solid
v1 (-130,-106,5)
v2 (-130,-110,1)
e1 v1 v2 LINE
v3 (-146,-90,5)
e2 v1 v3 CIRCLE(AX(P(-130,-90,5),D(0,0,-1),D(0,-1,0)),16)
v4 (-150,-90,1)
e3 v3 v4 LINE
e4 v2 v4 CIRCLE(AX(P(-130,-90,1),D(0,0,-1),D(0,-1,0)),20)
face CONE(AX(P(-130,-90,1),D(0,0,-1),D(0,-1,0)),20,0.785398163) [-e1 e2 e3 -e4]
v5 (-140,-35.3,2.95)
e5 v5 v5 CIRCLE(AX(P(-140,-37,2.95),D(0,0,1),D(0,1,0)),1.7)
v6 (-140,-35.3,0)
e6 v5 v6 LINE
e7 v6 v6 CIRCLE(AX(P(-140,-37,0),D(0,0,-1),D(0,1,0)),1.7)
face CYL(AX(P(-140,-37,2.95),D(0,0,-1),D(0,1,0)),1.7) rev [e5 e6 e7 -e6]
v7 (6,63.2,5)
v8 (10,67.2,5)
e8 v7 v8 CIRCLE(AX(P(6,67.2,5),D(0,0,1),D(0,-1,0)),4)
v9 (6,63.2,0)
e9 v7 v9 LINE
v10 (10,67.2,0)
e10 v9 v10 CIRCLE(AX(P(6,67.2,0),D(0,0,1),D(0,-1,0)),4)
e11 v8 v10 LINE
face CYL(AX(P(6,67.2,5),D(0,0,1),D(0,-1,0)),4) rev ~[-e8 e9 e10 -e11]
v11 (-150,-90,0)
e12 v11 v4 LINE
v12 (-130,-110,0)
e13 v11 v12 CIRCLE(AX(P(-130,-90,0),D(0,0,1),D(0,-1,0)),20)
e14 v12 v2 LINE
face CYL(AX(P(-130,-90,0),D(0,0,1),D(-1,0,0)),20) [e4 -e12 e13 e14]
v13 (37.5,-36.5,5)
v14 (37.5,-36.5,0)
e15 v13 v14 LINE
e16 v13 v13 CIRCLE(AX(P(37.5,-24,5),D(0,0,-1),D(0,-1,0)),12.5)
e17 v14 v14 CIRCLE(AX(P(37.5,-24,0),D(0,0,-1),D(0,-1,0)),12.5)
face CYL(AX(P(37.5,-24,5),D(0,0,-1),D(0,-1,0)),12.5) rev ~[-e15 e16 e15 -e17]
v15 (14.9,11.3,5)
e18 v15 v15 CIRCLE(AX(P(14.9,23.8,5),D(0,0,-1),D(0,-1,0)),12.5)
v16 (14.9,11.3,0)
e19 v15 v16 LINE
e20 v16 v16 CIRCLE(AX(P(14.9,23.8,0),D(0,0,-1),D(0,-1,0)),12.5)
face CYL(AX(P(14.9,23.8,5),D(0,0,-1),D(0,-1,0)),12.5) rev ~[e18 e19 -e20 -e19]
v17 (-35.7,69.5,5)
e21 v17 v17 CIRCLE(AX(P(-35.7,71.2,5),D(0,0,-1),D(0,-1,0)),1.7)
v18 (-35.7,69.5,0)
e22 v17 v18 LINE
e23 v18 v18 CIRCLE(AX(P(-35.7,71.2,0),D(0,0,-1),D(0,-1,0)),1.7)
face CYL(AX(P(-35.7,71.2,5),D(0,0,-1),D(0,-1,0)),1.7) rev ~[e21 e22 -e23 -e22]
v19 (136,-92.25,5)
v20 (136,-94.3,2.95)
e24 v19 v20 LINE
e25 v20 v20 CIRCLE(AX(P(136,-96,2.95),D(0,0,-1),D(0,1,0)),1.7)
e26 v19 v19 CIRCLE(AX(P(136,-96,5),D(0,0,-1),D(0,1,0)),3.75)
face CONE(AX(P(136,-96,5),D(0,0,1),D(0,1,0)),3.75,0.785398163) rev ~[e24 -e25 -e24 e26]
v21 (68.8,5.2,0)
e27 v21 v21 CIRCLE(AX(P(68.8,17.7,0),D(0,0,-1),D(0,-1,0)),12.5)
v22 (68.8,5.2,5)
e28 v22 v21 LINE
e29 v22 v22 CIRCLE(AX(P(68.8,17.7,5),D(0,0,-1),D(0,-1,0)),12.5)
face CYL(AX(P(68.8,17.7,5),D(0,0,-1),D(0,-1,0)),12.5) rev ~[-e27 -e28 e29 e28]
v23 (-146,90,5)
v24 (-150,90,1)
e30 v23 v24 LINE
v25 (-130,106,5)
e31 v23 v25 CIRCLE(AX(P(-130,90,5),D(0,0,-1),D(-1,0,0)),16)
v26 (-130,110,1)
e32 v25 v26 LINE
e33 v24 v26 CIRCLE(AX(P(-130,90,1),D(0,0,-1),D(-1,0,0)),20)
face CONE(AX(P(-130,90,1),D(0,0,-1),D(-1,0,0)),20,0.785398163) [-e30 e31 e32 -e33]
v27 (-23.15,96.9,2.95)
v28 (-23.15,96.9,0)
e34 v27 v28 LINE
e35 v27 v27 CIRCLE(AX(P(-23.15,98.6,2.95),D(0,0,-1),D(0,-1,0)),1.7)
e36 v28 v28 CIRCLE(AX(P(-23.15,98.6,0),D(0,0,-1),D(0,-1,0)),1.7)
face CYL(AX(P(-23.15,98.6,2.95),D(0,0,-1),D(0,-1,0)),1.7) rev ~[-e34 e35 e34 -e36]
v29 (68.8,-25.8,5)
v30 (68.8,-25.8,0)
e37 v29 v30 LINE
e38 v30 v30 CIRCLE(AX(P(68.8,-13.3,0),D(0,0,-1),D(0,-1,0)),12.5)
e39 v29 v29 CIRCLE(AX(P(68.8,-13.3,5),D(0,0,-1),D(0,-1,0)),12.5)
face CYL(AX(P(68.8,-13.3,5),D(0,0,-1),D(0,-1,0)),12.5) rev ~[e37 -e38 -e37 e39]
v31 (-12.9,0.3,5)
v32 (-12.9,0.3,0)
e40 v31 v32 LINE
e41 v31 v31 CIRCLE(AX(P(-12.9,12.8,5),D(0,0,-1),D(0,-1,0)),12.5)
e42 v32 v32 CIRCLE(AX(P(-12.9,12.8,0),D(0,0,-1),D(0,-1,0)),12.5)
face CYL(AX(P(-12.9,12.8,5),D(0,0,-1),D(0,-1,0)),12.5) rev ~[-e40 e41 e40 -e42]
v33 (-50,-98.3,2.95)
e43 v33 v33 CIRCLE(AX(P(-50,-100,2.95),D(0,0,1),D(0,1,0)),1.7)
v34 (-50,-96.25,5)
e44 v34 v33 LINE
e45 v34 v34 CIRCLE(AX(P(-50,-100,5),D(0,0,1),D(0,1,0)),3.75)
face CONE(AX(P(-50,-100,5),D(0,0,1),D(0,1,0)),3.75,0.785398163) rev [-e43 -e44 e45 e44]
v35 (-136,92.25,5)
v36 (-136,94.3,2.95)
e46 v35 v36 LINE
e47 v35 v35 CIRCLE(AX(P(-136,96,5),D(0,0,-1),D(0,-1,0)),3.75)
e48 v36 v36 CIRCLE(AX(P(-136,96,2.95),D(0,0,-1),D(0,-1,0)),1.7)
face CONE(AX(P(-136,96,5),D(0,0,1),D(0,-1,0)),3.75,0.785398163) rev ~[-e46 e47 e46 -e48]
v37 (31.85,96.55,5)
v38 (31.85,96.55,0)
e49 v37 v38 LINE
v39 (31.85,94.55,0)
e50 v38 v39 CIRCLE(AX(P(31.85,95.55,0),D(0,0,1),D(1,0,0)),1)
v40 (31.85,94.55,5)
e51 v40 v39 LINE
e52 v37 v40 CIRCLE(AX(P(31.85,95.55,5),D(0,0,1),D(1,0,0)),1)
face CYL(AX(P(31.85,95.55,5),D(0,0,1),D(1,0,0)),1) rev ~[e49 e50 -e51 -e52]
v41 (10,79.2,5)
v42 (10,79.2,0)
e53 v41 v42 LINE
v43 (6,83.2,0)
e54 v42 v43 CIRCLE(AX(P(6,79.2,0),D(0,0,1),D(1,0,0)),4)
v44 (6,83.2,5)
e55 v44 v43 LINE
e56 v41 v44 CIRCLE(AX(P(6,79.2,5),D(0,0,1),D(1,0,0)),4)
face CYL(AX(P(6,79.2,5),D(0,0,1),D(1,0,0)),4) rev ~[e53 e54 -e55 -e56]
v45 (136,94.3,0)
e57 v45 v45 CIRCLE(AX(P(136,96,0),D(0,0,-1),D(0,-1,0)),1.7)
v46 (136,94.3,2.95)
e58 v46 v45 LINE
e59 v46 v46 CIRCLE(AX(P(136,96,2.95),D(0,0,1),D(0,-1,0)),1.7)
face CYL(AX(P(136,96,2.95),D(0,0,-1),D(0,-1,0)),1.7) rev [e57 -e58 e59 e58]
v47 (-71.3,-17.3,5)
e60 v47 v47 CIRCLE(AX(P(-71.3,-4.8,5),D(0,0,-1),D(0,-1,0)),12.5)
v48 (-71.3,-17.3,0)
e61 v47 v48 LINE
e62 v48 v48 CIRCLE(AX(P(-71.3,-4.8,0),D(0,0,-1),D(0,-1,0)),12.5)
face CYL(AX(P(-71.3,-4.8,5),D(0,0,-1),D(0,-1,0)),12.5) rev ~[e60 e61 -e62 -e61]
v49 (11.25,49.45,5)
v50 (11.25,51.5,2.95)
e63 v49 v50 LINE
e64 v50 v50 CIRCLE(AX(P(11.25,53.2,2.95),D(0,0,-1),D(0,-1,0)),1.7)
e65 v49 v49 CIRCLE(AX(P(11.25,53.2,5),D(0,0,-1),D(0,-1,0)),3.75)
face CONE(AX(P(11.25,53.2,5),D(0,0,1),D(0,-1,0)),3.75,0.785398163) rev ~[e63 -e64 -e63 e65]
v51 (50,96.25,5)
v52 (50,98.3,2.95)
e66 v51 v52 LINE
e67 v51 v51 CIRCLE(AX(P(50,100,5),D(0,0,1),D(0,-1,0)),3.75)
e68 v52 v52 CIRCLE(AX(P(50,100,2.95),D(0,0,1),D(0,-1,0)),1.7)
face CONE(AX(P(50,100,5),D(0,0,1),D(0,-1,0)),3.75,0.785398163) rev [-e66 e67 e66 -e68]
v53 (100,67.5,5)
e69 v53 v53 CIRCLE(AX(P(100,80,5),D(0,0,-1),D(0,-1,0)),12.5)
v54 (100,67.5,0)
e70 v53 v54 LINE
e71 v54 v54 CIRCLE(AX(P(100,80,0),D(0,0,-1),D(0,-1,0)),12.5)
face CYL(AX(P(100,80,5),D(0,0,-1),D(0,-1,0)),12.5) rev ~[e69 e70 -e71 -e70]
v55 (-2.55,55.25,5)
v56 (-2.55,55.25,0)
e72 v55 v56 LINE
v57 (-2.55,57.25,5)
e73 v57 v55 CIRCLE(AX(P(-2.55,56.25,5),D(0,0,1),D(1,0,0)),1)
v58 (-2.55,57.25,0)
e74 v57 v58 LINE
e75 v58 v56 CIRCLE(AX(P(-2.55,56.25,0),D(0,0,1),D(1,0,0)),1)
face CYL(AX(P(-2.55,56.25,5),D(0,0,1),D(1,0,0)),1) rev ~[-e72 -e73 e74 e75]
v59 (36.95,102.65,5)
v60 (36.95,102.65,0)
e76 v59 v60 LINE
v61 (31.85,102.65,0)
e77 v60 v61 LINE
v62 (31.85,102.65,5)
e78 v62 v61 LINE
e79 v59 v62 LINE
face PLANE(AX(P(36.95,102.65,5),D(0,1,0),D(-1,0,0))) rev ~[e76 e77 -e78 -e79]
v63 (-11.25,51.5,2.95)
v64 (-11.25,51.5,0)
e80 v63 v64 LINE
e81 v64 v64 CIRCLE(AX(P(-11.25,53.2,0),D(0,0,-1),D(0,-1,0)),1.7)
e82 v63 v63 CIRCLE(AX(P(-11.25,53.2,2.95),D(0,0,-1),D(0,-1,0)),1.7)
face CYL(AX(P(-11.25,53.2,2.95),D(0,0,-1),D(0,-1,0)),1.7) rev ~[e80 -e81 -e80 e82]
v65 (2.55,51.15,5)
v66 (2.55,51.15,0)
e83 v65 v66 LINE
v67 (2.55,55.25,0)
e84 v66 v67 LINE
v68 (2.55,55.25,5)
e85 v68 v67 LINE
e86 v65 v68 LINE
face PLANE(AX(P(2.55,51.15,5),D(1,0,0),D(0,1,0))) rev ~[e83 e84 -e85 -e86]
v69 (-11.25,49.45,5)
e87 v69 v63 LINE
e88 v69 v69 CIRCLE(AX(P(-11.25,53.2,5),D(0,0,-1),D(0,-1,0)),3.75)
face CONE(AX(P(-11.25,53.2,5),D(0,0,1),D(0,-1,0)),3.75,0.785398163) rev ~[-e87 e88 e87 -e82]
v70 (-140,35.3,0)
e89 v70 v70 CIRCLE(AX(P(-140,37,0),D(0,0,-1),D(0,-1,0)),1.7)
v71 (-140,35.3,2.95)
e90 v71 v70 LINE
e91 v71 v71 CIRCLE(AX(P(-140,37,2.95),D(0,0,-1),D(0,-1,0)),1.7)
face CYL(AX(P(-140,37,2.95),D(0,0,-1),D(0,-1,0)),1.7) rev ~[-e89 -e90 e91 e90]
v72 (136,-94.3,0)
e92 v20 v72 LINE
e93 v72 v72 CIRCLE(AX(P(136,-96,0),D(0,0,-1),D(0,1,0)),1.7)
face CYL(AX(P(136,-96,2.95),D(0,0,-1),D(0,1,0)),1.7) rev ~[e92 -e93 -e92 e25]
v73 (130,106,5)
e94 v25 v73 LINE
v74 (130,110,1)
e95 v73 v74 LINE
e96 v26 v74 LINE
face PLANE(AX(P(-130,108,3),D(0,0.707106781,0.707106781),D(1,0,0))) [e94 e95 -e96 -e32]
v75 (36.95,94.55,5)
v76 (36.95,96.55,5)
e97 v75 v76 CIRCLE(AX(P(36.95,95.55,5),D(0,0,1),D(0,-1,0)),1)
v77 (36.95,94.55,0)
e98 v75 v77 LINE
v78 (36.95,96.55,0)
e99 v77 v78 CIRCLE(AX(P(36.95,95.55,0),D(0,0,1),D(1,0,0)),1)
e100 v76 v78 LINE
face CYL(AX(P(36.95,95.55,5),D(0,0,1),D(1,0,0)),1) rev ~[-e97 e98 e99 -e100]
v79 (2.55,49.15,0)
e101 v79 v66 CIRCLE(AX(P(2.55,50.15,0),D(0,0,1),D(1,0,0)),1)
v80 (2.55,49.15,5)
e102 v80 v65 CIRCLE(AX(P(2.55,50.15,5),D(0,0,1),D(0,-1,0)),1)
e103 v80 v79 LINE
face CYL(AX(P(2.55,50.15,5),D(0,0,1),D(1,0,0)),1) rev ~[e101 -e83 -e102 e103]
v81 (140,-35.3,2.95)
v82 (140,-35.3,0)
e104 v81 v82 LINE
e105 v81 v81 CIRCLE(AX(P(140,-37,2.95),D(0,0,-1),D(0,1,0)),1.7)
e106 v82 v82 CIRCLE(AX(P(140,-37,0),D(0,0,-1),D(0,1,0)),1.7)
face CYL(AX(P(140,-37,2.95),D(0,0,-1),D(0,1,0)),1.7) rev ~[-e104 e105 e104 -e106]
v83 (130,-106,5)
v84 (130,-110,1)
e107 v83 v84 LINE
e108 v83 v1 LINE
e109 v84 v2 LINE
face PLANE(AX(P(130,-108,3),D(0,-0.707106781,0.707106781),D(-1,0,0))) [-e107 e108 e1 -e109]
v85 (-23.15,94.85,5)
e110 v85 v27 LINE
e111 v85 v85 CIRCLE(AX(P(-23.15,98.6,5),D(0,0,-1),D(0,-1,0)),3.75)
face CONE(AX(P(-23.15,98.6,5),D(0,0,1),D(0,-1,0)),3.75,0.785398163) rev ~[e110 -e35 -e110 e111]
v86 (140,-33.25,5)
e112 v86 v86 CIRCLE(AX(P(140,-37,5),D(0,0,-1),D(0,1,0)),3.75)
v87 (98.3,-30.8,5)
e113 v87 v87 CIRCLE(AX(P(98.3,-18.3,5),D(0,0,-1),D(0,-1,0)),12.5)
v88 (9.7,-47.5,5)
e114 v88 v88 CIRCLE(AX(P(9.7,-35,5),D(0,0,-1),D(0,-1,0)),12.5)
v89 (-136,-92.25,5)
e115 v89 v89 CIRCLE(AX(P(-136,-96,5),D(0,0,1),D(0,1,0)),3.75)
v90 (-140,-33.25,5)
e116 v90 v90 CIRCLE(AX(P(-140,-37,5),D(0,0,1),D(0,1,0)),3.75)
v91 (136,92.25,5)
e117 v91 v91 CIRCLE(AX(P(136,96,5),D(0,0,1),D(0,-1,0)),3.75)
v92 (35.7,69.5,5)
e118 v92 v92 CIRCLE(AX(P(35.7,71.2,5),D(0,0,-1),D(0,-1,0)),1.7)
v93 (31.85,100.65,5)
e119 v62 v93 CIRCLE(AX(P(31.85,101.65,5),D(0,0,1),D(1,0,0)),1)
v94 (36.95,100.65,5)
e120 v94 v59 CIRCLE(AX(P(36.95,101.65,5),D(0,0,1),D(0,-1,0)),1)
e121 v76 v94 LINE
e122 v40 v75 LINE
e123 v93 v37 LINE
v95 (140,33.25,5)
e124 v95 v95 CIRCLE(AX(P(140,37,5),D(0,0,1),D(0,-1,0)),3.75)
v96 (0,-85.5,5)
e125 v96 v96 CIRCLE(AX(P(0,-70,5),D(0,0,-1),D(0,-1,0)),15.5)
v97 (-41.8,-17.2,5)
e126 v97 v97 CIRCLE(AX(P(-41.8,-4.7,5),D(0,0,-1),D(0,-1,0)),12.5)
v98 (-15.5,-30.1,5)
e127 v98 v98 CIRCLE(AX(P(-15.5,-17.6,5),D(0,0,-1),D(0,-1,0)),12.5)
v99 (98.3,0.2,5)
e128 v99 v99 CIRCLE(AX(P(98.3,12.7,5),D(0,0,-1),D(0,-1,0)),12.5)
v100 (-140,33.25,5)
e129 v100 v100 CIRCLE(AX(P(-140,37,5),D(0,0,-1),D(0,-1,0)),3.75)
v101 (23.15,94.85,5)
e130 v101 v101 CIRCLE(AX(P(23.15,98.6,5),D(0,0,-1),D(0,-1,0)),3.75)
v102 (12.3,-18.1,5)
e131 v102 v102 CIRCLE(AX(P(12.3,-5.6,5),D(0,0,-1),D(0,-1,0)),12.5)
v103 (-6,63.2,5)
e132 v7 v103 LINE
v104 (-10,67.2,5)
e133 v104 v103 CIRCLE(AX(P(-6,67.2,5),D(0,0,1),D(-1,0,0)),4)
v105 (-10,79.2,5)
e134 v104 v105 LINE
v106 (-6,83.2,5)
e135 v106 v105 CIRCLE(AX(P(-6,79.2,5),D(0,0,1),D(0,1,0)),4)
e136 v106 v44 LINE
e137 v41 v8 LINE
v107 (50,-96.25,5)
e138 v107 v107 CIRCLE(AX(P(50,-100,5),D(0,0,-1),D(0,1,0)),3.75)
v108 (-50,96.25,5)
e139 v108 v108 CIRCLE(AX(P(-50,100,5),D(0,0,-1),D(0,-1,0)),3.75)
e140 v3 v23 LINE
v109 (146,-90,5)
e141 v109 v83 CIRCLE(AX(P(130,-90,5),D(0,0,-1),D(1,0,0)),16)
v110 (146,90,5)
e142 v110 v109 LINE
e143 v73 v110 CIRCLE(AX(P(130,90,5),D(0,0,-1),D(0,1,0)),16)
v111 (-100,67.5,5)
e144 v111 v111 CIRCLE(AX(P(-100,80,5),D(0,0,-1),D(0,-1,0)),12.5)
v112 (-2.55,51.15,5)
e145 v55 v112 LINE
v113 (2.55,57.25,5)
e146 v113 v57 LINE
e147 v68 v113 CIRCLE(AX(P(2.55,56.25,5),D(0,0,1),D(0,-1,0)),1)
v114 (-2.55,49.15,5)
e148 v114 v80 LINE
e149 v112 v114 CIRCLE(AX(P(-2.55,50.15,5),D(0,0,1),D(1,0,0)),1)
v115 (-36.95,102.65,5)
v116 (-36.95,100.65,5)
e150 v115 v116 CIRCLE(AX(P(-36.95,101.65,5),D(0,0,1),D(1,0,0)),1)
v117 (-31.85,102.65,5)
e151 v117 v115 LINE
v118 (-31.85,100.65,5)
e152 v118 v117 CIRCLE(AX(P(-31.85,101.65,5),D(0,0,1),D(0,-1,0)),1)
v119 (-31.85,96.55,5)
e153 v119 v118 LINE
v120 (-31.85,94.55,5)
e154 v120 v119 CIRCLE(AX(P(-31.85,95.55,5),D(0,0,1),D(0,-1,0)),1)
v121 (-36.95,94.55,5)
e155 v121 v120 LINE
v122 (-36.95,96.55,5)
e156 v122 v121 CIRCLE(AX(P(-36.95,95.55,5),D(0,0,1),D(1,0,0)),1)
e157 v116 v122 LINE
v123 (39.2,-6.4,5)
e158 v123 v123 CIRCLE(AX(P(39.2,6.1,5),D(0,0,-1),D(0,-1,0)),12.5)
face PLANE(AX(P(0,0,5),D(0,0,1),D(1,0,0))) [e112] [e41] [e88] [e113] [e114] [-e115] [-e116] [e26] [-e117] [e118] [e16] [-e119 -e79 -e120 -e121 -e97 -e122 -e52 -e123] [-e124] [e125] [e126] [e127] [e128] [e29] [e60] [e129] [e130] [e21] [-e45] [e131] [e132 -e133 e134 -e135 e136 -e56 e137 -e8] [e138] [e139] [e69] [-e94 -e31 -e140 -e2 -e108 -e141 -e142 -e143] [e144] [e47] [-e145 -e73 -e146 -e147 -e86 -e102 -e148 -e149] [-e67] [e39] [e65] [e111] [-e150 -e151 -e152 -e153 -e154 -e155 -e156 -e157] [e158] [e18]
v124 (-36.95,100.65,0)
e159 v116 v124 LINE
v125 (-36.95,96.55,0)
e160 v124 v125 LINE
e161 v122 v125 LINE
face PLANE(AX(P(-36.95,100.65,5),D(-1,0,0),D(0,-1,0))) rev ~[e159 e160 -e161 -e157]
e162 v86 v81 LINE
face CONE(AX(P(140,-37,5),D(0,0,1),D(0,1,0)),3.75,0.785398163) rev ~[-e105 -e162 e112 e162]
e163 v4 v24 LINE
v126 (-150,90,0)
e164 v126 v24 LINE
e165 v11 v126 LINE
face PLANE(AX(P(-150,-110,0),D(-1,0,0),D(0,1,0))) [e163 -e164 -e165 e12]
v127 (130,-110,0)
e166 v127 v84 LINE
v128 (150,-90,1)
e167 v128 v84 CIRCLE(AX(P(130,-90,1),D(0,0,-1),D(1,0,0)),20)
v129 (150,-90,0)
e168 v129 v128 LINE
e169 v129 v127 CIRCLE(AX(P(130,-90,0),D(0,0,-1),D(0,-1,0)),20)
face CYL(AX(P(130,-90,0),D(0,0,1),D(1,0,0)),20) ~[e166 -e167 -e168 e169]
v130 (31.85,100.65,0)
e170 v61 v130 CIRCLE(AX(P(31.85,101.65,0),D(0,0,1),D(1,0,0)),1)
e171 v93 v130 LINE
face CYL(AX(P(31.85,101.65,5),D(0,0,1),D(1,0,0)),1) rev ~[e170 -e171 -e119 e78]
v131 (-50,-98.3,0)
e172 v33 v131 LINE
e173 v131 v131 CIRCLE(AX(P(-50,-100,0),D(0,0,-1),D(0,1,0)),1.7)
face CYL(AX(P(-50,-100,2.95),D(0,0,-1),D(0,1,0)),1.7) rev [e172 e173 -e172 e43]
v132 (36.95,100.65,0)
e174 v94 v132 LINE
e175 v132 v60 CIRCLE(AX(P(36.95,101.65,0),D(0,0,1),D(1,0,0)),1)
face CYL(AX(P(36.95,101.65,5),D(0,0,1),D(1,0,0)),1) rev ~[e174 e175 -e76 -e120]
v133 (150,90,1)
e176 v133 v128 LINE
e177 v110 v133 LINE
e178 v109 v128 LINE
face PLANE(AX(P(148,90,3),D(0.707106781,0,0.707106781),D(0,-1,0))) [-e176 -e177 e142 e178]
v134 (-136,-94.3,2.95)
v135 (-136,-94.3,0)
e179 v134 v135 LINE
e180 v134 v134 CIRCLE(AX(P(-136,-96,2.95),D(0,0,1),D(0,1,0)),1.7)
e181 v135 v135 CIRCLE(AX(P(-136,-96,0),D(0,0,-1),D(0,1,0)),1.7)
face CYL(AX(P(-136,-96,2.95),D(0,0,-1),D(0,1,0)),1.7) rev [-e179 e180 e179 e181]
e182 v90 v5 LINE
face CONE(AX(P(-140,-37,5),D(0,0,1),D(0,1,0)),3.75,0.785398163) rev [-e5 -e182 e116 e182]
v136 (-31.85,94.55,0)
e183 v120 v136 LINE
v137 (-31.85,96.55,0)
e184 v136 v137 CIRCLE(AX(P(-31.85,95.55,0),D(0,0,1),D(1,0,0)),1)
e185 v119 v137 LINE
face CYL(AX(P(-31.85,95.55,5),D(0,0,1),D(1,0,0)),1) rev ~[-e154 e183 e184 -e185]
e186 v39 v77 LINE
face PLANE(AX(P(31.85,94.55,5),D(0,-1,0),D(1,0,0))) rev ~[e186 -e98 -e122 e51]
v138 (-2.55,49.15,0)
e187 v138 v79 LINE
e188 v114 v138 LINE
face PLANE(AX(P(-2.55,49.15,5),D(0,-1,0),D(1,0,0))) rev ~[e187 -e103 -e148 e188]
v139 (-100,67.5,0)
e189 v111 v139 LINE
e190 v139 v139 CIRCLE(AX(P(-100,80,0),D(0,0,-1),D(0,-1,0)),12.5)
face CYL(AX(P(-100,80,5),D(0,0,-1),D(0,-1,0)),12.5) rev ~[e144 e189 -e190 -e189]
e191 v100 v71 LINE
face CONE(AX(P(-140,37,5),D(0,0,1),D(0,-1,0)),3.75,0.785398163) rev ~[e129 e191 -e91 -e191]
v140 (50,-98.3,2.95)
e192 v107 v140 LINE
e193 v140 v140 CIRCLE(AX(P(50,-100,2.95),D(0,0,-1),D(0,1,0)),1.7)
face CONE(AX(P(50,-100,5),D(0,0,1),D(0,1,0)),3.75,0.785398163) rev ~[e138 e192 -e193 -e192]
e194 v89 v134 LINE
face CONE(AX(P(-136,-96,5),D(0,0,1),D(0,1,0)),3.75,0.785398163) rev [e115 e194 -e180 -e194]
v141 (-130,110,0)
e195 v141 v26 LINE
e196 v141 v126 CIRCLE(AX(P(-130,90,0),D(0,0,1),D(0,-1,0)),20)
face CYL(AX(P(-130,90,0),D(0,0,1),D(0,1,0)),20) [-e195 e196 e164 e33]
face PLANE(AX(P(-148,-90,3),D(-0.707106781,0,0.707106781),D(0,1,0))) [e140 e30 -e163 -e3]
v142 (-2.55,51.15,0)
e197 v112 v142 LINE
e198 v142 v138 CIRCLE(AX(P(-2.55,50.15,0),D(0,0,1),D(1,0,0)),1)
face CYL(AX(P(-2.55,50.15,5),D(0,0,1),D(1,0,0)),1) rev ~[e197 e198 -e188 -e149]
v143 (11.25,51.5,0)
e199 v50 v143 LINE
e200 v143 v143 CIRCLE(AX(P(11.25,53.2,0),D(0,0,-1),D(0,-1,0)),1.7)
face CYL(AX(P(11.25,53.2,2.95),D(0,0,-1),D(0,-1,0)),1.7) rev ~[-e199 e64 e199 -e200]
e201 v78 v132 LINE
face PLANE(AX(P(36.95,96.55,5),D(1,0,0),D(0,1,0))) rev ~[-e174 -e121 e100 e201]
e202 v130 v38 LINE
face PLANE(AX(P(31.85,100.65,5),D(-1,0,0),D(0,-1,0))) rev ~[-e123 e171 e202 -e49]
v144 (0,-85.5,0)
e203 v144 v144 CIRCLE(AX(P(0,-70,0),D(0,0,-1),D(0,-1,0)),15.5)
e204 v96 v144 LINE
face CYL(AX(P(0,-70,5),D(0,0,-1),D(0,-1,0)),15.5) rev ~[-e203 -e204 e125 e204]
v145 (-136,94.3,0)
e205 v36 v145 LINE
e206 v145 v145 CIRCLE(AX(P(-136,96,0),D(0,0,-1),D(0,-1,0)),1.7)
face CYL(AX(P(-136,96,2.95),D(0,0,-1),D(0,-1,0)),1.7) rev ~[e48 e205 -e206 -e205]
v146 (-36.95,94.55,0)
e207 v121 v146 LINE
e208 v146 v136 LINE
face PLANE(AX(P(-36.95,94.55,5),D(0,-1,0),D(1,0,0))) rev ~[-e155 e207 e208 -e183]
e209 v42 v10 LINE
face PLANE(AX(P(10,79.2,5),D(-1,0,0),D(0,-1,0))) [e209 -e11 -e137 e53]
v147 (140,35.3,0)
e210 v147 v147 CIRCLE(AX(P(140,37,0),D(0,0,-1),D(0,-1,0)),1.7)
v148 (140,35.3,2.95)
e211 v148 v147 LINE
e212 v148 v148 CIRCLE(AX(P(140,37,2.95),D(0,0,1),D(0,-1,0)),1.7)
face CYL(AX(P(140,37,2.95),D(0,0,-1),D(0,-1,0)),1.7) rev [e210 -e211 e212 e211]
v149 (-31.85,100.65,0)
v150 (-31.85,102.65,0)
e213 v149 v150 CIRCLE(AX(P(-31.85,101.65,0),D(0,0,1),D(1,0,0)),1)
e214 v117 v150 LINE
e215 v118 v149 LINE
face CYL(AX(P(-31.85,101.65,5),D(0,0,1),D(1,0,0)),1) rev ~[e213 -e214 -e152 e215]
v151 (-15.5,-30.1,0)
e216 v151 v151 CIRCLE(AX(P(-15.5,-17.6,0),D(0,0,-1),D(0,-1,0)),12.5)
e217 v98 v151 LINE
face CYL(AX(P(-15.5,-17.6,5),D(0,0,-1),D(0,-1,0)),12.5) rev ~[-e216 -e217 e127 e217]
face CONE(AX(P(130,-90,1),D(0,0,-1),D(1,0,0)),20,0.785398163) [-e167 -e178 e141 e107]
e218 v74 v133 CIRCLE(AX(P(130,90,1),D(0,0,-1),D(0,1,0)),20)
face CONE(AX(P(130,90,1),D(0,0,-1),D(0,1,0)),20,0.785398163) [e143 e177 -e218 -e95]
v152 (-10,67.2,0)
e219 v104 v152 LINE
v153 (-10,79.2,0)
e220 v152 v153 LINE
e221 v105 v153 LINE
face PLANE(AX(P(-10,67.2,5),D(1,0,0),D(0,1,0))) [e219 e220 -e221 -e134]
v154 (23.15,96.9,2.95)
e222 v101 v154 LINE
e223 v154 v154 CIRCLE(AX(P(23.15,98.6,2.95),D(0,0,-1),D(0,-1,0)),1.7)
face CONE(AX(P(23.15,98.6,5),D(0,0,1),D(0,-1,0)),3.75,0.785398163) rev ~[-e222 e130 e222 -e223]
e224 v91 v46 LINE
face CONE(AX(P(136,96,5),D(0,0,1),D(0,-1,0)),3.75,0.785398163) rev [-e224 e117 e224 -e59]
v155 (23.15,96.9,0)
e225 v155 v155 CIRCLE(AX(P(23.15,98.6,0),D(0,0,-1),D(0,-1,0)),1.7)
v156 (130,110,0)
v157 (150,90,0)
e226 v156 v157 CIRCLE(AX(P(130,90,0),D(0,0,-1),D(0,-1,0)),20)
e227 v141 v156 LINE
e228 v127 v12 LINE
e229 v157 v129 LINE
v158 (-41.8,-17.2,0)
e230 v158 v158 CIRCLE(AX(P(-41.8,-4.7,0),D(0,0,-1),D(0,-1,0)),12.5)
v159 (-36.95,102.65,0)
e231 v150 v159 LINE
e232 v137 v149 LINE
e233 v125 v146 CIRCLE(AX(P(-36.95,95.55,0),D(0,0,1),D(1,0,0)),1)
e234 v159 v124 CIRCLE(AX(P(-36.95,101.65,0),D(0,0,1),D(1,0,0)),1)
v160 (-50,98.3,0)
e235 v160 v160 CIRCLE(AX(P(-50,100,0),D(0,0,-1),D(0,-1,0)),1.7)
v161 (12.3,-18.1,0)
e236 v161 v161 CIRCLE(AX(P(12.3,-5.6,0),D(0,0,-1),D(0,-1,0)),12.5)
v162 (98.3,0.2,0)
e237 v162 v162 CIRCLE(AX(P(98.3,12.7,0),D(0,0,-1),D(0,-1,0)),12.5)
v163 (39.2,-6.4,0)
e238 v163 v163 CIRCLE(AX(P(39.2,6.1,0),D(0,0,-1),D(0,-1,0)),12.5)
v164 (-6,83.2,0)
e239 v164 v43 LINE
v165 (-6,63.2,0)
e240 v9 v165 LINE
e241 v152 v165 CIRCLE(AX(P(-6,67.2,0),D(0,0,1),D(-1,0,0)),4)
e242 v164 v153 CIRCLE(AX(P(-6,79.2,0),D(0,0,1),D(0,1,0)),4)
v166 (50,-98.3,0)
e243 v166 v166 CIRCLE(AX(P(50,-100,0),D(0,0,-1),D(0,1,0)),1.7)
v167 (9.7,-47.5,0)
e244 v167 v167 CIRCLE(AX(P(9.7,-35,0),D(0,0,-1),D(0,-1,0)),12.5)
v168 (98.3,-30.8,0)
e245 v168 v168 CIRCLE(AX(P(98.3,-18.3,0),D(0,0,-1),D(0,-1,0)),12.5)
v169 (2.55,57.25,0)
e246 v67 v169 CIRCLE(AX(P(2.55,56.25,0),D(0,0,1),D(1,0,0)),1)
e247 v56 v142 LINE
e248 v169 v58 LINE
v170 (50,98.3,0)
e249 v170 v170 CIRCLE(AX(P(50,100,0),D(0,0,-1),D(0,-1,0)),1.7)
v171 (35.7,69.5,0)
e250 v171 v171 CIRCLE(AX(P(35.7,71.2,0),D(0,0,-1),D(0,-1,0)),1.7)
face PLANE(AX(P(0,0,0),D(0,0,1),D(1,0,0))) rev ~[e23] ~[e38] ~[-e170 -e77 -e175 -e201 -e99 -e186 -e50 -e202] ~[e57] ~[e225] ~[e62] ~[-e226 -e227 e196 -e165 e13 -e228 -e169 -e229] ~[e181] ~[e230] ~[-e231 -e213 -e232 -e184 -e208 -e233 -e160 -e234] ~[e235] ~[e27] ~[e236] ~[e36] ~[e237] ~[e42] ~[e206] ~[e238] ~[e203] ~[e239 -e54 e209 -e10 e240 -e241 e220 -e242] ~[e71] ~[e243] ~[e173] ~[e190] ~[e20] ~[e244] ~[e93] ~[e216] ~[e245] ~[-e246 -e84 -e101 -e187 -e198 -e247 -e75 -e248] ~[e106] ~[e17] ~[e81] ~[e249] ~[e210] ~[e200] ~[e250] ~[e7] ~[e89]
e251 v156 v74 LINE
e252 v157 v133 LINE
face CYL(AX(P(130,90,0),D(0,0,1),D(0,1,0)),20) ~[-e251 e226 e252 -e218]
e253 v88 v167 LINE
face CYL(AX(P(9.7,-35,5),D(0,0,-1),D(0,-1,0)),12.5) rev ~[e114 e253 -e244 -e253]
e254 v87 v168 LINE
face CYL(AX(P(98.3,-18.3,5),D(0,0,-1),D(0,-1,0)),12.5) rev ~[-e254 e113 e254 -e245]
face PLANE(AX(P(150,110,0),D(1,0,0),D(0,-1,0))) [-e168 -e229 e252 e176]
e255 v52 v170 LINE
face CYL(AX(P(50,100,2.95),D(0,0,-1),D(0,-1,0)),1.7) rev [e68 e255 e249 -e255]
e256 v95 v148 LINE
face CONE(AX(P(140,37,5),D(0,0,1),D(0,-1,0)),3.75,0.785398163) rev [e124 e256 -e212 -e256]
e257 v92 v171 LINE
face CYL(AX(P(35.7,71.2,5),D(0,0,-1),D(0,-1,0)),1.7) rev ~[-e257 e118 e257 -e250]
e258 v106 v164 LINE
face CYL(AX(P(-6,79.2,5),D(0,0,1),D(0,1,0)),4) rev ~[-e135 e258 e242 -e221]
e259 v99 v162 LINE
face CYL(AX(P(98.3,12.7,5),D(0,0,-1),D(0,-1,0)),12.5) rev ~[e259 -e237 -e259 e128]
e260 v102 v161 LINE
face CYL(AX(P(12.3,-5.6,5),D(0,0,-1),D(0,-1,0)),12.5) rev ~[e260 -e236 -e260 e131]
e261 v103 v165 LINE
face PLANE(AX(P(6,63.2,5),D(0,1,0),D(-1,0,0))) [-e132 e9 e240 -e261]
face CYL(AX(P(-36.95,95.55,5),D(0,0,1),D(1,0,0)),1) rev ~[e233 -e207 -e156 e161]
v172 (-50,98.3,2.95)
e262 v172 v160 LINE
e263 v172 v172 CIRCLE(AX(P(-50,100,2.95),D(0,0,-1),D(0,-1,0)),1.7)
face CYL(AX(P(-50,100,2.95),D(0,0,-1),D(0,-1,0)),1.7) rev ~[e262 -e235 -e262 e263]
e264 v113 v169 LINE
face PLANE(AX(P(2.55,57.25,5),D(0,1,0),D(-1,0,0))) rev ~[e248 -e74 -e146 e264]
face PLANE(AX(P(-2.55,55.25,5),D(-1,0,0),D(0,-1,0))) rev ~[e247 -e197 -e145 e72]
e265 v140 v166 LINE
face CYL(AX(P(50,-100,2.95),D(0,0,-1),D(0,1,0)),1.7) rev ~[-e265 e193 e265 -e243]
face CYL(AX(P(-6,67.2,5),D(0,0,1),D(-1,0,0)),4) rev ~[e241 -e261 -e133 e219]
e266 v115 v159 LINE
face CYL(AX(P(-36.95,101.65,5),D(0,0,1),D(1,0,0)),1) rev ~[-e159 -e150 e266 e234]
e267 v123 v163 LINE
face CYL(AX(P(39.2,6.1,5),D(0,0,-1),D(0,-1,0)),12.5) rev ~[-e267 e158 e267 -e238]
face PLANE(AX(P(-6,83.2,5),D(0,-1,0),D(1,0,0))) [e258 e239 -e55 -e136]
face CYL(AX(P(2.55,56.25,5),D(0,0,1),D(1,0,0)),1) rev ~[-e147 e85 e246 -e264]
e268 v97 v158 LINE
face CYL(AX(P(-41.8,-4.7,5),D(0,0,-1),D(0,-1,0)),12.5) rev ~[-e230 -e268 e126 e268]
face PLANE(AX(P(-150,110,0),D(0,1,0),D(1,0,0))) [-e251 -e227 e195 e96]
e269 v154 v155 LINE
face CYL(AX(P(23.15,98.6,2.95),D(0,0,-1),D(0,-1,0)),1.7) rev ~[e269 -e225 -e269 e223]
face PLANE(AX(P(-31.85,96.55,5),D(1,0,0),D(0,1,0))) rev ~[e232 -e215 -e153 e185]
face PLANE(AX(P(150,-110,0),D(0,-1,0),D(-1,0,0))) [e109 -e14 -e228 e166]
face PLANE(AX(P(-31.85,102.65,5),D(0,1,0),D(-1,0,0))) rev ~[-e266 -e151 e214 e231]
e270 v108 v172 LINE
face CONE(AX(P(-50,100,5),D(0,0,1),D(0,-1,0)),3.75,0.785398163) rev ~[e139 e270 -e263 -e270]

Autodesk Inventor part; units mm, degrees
ref_plane "YZ Plane" through (0, 0, 0) normal (1, 0, 0) x (0, 1, 0)
ref_plane "XZ Plane" through (0, 0, 0) normal (0, 1, 0) x (-1, 0, 0)
ref_plane "XY Plane" through (0, 0, 0) normal (0, 0, 1) x (1, 0, 0)
sketch "Sketch1" plane through (0, 0, 0) normal (0, 0, 1) x (1, 0, 0)
  line L0 (-150, 110) -> (150, 110)
  line L1 (150, 110) -> (150, -110)
  line L2 (150, -110) -> (-150, -110)
  line L3 (-150, -110) -> (-150, 110)
  line L4 (-150, 110) -> (150, -110) construction
  line L5 (150, 110) -> (-150, -110) construction
  point P0 (0, 0)
  dimension "d0" = 300
  dimension "d1" = 220
extrude "Extrusion1" add sketch "Sketch1" along normal blind 5
sketch "Sketch2" plane through (0, 0, 5) normal (0, 0, 1) x (1, 0, 0)
  line L0 (-150, -110) -> (150, -110) projected
  line L1 (9.7, -35) -> (14.9, 23.8) construction
  line L2 (-12.9, 12.8) -> (37.5, -24) construction
  line L3 (-100, 80) -> (100, 80) construction
  line L4 (150, 110) -> (-150, 110) projected
  line L5 (-150, 110) -> (-150, -110) projected
  arc A0 (9.7, -35) -> (-41.8, -4.7) centre (-117.4638, -192.22) ccw
  point P0 (0, 0)
  point P1 (0, -70)
  point P2 (-15.5, -17.6)
  point P3 (-71.3, -4.8)
  point P4 (12.3, -5.6)
  point P5 (39.2, 6.1)
  point P6 (68.8, -13.3)
  point P7 (68.8, 17.7)
  point P8 (98.3, -18.3)
  point P9 (98.3, 12.7)
  point P10 (12.3, -5.6)
  point P11 (0, 80)
  point P12 (-60, 80)
  point P13 (60, 80)
  point P14 (31.5334, -55.5137)
  point P15 (-14.9246, -17.9372)
  dimension "d4" = 40
  dimension "d5" = 15.5
  dimension "d6" = 26.3
  dimension "d7" = 29.5
  dimension "d11" = 52.4
  dimension "d12" = 65.3
  dimension "d13" = 65.2
  dimension "d14" = 9.7
  dimension "d15" = 29.4
  dimension "d16" = 2.6
  dimension "d17" = 26.9
  dimension "d18" = 29.6
  dimension "d19" = 29.5
  dimension "d20" = 1.7
  dimension "d22" = 46
  dimension "d23" = 30.1
  dimension "d24" = 96.7
  dimension "d25" = 91.7
  dimension "d26" = 31
  dimension "d27" = 31
  dimension "d28" = 35
  dimension "d61" = 30
  dimension "d62" = 50
  dimension "d63" = 8.496
  dimension "d64" = 8.496
  dimension "d65" = 40
  dimension "d66" = 40
hole "Hole1" at (0, -70, 5) at (-15.5, -17.6, 5) at (-41.8, -4.7, 5) at (-71.3, -4.8, 5) at (9.7, -35, 5) at (12.3, -5.6, 5) at (37.5, -24, 5) at (39.2, 6.1, 5) at (68.8, -13.3, 5) at (68.8, 17.7, 5) at (98.3, -18.3, 5) at (98.3, 12.7, 5) at (-12.9, 12.8, 5) at (14.9, 23.8, 5) at (-100, 80, 5) at (100, 80, 5) direction (0, 0, -1) diameter 25 end through all clearance for "Socket Head Cap Screw ISO 4762" size "M24" standard "ISO"
sketch "Sketch5" plane through (0, 0, 5) normal (0, 0, 1) x (1, 0, 0)
  circle A0 centre (0, -70) radius 12.5 projected
  point P0 (0, 0)
hole "Hole2" at (0, -70, 5) direction (0, 0, -1) diameter 31 end through all clearance for "Socket Head Cap Screw ISO 4762" size "M30" standard "ISO"
sketch "Sketch6" plane through (0, 0, 5) normal (0, 0, 1) x (1, 0, 0)
  line L0 (-35.7, 71.2) -> (35.7, 71.2) construction
  line L1 (150, 110) -> (-150, 110) projected
  point P0 (0, 0)
  point P1 (0, 71.2)
  dimension "d67" = 71.4
  dimension "d68" = 38.8
hole "Hole3" at (-35.7, 71.2, 5) at (35.7, 71.2, 5) direction (0, 0, -1) diameter 3.4 end through all clearance for "Socket Head Cap Screw ISO 4762" size "M3" standard "ISO"
fillet "Fillet2" radius 20 4 edges at (-150, 110, 2.5) (-150, -110, 2.5) (150, -110, 2.5) (150, 110, 2.5)
chamfer "Chamfer1" distance 4 angle 45 8 edges at (0, -110, 5) (144.1421, -104.1421, 5) (150, 0, 5) (144.1421, 104.1421, 5) (0, 110, 5) (-144.1421, 104.1421, 5) (-150, 0, 5) (-144.1421, -104.1421, 5)
sketch "Sketch8" plane through (0, 0, 5) normal (0, 0, 1) x (1, 0, 0)
  line L0 (130, 110) -> (-130, 110) projected
  line L1 (-150, 90) -> (-150, -90) projected
  line L2 (-130, -110) -> (130, -110) projected
  line L3 (150, -90) -> (150, 90) projected
  point P0 (0, 0)
  point P1 (-140, 37)
  point P2 (-50, 100)
  point P3 (-136, 96)
  dimension "d85" = 10
  dimension "d86" = 10
  dimension "d87" = 220
  dimension "d88" = 300
  dimension "d89" = 73
  dimension "d90" = 100
  dimension "d91" = 14
  dimension "d92" = 14
hole "Hole4" at (-140, 37, 5) at (-50, 100, 5) at (-136, 96, 5) direction (0, 0, -1) diameter 3.4 end through all countersink diameter 7.5 countersink angle 90 clearance for "Countersunk Flat Head Hex Socket Screw ISO 10642" size "M3" standard "ISO"
mirror "Mirror1" about plane through (0, 0, 0) normal (1, 0, 0) of "Hole4"
mirror "Mirror2" about plane through (0, 0, 0) normal (0, 1, 0) of "Hole4", "Mirror1"
sketch "Sketch9" plane through (0, 0, 5) normal (0, 0, 1) x (1, 0, 0)
  line L0 (-6, 83.2) -> (6, 83.2)
  line L1 (10, 79.2) -> (10, 67.2)
  line L2 (6, 63.2) -> (-6, 63.2)
  line L3 (-10, 67.2) -> (-10, 79.2)
  circle A0 centre (-35.7, 71.2) radius 1.7 projected
  circle A1 centre (35.7, 71.2) radius 1.7 projected
  line L4 (-35.7, 71.2) -> (35.7, 71.2) construction
  arc A2 (-6, 83.2) -> (-10, 79.2) centre (-6, 79.2) ccw
  arc A3 (10, 79.2) -> (6, 83.2) centre (6, 79.2) ccw
  arc A4 (-10, 67.2) -> (-6, 63.2) centre (-6, 67.2) ccw
  arc A5 (6, 63.2) -> (10, 67.2) centre (6, 67.2) ccw
  point P0 (0, 0)
  point P1 (-10, 83.2)
  point P2 (10, 63.2)
  point P3 (10, 83.2)
  point P4 (0, 83.2)
  point P5 (0, 71.2)
  point P6 (-10, 73.2)
  dimension "d100" = 20
  dimension "d101" = 20
  dimension "d102" = 2
  dimension "d103" = 4
extrude "Extrusion5" cut sketch "Sketch9" against normal through all contours L0 A3 L1 A5 L2 A4 L3 A2
sketch "Sketch10" plane through (0, 0, 5) normal (0, 0, 1) x (1, 0, 0)
  line L0 (-11.25, 53.2) -> (11.25, 53.2) construction
  circle A0 centre (35.7, 71.2) radius 1.7 projected
  circle A1 centre (-35.7, 71.2) radius 1.7 projected
  circle A2 centre (35.7, 71.2) radius 1.7 projected
  line L1 (-35.7, 71.2) -> (35.7, 71.2) construction
  line L2 (0, 71.2) -> (0, 98.6) construction
  line L3 (-34.4, 98.6) -> (34.4, 98.6) construction
  line L4 (23.15, 98.6) -> (45.65, 98.6) construction
  line L5 (-45.65, 98.6) -> (-23.15, 98.6) construction
  point P0 (0, 0)
  point P1 (0, 53.2)
  dimension "d106" = 22.5
  dimension "d107" = 18
  dimension "d108" = 22.5
  dimension "d109" = 22.5
  dimension "d110" = 27.4
  dimension "d111" = 68.8
hole "Hole5" at (-11.25, 53.2, 5) at (11.25, 53.2, 5) at (23.15, 98.6, 5) at (-23.15, 98.6, 5) direction (0, 0, -1) diameter 3.4 end through all countersink diameter 7.5 countersink angle 90 clearance for "Countersunk Flat Head Hex Socket Screw ISO 10642" size "M3" standard "ISO"
sketch "Sketch11" plane through (0, 0, 5) normal (0, 0, 1) x (1, 0, 0)
  circle A0 centre (-11.25, 53.2) radius 1.7 construction
  circle A1 centre (11.25, 53.2) radius 1.7 construction
  line L0 (-11.25, 53.2) -> (11.25, 53.2) construction
  circle A2 centre (23.15, 98.6) radius 1.7 construction
  line L1 (23.15, 98.6) -> (45.65, 98.6) construction
  line L2 (-23.15, 98.6) -> (-45.65, 98.6) construction
  line L3 (-2.55, 49.15) -> (2.55, 49.15)
  line L4 (2.55, 49.15) -> (2.55, 57.25)
  line L5 (2.55, 57.25) -> (-2.55, 57.25)
  line L6 (-2.55, 57.25) -> (-2.55, 49.15)
  line L7 (-2.55, 49.15) -> (2.55, 57.25) construction
  line L8 (2.55, 49.15) -> (-2.55, 57.25) construction
  circle A3 centre (-2.55, 50.15) radius 1
  circle A4 centre (2.55, 50.15) radius 1
  circle A5 centre (2.55, 56.25) radius 1
  circle A6 centre (-2.55, 56.25) radius 1
  line L9 (-36.95, 94.55) -> (-31.85, 94.55)
  line L10 (-31.85, 94.55) -> (-31.85, 102.65)
  line L11 (-31.85, 102.65) -> (-36.95, 102.65)
  line L12 (-36.95, 102.65) -> (-36.95, 94.55)
  line L13 (-36.95, 94.55) -> (-31.85, 102.65) construction
  line L14 (-31.85, 94.55) -> (-36.95, 102.65) construction
  circle A7 centre (-36.95, 95.55) radius 1
  circle A8 centre (-31.85, 95.55) radius 1
  circle A9 centre (-31.85, 101.65) radius 1
  circle A10 centre (-36.95, 101.65) radius 1
  line L15 (31.85, 94.55) -> (36.95, 94.55)
  line L16 (36.95, 94.55) -> (36.95, 102.65)
  line L17 (36.95, 102.65) -> (31.85, 102.65)
  line L18 (31.85, 102.65) -> (31.85, 94.55)
  line L19 (31.85, 94.55) -> (36.95, 102.65) construction
  line L20 (36.95, 94.55) -> (31.85, 102.65) construction
  circle A11 centre (31.85, 95.55) radius 1
  circle A12 centre (36.95, 95.55) radius 1
  circle A13 centre (36.95, 101.65) radius 1
  circle A14 centre (31.85, 101.65) radius 1
  circle A15 centre (-23.15, 98.6) radius 1.7 projected
  point P0 (0, 0)
  point P1 (0, 53.2)
  point P2 (-34.4, 98.6)
  point P3 (34.4, 98.6)
  point P4 (31.85, 100.65)
  point P5 (31.85, 96.55)
  point P6 (36.95, 96.55)
  point P7 (36.95, 100.65)
  point P8 (-31.85, 96.55)
  point P9 (-31.85, 100.65)
  point P10 (-36.95, 100.65)
  point P11 (-36.95, 96.55)
  point P12 (-2.55, 55.25)
  point P13 (-2.55, 51.15)
  point P14 (2.55, 51.15)
  point P15 (2.55, 55.25)
  dimension "d121" = 2
  dimension "d124" = 2
  dimension "d127" = 2
  dimension "d119" = 8.1
  dimension "d120" = 5.1
  dimension "d122" = 8.1
  dimension "d123" = 5.1
  dimension "d125" = 8.1
  dimension "d126" = 5.1
  dimension "d130" = 11.25
  dimension "d131" = 11.25
  dimension "d132" = 11.25
extrude "Extrusion6" cut sketch "Sketch11" against normal through all contours A3 L6 A6 L5 A5 L4 A4 L3 | A3 L6 | L6 A3 | A4 L4 | L4 A4 | A6 L6 | L6 A6 | A5 L4 | L4 A5 | A7 L12 A10 L11 A9 L10 A8 L9 | A7 L12 | L12 A7 | A8 L10 | L10 A8 | A10 L12 | L12 A10 | A9 L10 | L10 A9 | A11 L18 A14 L17 A13 L16 A12 L15 | A11 L18 | L18 A11 | A12 L16 | L16 A12 | A14 L18 | L18 A14 | A13 L16 | L16 A13
equation "\"d64\" = d63"
equation "\"d66\" = d65"
equation "\"d86\" = d85"
equation "\"d90\" = 0.333333 * d88"
equation "\"d92\" = d91"
equation "\"d101\" = d100"
equation "\"d131\" = d130"
equation "\"d132\" = d131"
properties part number "Top Plate Sanwa" material "Polycarbonate, Clear"
